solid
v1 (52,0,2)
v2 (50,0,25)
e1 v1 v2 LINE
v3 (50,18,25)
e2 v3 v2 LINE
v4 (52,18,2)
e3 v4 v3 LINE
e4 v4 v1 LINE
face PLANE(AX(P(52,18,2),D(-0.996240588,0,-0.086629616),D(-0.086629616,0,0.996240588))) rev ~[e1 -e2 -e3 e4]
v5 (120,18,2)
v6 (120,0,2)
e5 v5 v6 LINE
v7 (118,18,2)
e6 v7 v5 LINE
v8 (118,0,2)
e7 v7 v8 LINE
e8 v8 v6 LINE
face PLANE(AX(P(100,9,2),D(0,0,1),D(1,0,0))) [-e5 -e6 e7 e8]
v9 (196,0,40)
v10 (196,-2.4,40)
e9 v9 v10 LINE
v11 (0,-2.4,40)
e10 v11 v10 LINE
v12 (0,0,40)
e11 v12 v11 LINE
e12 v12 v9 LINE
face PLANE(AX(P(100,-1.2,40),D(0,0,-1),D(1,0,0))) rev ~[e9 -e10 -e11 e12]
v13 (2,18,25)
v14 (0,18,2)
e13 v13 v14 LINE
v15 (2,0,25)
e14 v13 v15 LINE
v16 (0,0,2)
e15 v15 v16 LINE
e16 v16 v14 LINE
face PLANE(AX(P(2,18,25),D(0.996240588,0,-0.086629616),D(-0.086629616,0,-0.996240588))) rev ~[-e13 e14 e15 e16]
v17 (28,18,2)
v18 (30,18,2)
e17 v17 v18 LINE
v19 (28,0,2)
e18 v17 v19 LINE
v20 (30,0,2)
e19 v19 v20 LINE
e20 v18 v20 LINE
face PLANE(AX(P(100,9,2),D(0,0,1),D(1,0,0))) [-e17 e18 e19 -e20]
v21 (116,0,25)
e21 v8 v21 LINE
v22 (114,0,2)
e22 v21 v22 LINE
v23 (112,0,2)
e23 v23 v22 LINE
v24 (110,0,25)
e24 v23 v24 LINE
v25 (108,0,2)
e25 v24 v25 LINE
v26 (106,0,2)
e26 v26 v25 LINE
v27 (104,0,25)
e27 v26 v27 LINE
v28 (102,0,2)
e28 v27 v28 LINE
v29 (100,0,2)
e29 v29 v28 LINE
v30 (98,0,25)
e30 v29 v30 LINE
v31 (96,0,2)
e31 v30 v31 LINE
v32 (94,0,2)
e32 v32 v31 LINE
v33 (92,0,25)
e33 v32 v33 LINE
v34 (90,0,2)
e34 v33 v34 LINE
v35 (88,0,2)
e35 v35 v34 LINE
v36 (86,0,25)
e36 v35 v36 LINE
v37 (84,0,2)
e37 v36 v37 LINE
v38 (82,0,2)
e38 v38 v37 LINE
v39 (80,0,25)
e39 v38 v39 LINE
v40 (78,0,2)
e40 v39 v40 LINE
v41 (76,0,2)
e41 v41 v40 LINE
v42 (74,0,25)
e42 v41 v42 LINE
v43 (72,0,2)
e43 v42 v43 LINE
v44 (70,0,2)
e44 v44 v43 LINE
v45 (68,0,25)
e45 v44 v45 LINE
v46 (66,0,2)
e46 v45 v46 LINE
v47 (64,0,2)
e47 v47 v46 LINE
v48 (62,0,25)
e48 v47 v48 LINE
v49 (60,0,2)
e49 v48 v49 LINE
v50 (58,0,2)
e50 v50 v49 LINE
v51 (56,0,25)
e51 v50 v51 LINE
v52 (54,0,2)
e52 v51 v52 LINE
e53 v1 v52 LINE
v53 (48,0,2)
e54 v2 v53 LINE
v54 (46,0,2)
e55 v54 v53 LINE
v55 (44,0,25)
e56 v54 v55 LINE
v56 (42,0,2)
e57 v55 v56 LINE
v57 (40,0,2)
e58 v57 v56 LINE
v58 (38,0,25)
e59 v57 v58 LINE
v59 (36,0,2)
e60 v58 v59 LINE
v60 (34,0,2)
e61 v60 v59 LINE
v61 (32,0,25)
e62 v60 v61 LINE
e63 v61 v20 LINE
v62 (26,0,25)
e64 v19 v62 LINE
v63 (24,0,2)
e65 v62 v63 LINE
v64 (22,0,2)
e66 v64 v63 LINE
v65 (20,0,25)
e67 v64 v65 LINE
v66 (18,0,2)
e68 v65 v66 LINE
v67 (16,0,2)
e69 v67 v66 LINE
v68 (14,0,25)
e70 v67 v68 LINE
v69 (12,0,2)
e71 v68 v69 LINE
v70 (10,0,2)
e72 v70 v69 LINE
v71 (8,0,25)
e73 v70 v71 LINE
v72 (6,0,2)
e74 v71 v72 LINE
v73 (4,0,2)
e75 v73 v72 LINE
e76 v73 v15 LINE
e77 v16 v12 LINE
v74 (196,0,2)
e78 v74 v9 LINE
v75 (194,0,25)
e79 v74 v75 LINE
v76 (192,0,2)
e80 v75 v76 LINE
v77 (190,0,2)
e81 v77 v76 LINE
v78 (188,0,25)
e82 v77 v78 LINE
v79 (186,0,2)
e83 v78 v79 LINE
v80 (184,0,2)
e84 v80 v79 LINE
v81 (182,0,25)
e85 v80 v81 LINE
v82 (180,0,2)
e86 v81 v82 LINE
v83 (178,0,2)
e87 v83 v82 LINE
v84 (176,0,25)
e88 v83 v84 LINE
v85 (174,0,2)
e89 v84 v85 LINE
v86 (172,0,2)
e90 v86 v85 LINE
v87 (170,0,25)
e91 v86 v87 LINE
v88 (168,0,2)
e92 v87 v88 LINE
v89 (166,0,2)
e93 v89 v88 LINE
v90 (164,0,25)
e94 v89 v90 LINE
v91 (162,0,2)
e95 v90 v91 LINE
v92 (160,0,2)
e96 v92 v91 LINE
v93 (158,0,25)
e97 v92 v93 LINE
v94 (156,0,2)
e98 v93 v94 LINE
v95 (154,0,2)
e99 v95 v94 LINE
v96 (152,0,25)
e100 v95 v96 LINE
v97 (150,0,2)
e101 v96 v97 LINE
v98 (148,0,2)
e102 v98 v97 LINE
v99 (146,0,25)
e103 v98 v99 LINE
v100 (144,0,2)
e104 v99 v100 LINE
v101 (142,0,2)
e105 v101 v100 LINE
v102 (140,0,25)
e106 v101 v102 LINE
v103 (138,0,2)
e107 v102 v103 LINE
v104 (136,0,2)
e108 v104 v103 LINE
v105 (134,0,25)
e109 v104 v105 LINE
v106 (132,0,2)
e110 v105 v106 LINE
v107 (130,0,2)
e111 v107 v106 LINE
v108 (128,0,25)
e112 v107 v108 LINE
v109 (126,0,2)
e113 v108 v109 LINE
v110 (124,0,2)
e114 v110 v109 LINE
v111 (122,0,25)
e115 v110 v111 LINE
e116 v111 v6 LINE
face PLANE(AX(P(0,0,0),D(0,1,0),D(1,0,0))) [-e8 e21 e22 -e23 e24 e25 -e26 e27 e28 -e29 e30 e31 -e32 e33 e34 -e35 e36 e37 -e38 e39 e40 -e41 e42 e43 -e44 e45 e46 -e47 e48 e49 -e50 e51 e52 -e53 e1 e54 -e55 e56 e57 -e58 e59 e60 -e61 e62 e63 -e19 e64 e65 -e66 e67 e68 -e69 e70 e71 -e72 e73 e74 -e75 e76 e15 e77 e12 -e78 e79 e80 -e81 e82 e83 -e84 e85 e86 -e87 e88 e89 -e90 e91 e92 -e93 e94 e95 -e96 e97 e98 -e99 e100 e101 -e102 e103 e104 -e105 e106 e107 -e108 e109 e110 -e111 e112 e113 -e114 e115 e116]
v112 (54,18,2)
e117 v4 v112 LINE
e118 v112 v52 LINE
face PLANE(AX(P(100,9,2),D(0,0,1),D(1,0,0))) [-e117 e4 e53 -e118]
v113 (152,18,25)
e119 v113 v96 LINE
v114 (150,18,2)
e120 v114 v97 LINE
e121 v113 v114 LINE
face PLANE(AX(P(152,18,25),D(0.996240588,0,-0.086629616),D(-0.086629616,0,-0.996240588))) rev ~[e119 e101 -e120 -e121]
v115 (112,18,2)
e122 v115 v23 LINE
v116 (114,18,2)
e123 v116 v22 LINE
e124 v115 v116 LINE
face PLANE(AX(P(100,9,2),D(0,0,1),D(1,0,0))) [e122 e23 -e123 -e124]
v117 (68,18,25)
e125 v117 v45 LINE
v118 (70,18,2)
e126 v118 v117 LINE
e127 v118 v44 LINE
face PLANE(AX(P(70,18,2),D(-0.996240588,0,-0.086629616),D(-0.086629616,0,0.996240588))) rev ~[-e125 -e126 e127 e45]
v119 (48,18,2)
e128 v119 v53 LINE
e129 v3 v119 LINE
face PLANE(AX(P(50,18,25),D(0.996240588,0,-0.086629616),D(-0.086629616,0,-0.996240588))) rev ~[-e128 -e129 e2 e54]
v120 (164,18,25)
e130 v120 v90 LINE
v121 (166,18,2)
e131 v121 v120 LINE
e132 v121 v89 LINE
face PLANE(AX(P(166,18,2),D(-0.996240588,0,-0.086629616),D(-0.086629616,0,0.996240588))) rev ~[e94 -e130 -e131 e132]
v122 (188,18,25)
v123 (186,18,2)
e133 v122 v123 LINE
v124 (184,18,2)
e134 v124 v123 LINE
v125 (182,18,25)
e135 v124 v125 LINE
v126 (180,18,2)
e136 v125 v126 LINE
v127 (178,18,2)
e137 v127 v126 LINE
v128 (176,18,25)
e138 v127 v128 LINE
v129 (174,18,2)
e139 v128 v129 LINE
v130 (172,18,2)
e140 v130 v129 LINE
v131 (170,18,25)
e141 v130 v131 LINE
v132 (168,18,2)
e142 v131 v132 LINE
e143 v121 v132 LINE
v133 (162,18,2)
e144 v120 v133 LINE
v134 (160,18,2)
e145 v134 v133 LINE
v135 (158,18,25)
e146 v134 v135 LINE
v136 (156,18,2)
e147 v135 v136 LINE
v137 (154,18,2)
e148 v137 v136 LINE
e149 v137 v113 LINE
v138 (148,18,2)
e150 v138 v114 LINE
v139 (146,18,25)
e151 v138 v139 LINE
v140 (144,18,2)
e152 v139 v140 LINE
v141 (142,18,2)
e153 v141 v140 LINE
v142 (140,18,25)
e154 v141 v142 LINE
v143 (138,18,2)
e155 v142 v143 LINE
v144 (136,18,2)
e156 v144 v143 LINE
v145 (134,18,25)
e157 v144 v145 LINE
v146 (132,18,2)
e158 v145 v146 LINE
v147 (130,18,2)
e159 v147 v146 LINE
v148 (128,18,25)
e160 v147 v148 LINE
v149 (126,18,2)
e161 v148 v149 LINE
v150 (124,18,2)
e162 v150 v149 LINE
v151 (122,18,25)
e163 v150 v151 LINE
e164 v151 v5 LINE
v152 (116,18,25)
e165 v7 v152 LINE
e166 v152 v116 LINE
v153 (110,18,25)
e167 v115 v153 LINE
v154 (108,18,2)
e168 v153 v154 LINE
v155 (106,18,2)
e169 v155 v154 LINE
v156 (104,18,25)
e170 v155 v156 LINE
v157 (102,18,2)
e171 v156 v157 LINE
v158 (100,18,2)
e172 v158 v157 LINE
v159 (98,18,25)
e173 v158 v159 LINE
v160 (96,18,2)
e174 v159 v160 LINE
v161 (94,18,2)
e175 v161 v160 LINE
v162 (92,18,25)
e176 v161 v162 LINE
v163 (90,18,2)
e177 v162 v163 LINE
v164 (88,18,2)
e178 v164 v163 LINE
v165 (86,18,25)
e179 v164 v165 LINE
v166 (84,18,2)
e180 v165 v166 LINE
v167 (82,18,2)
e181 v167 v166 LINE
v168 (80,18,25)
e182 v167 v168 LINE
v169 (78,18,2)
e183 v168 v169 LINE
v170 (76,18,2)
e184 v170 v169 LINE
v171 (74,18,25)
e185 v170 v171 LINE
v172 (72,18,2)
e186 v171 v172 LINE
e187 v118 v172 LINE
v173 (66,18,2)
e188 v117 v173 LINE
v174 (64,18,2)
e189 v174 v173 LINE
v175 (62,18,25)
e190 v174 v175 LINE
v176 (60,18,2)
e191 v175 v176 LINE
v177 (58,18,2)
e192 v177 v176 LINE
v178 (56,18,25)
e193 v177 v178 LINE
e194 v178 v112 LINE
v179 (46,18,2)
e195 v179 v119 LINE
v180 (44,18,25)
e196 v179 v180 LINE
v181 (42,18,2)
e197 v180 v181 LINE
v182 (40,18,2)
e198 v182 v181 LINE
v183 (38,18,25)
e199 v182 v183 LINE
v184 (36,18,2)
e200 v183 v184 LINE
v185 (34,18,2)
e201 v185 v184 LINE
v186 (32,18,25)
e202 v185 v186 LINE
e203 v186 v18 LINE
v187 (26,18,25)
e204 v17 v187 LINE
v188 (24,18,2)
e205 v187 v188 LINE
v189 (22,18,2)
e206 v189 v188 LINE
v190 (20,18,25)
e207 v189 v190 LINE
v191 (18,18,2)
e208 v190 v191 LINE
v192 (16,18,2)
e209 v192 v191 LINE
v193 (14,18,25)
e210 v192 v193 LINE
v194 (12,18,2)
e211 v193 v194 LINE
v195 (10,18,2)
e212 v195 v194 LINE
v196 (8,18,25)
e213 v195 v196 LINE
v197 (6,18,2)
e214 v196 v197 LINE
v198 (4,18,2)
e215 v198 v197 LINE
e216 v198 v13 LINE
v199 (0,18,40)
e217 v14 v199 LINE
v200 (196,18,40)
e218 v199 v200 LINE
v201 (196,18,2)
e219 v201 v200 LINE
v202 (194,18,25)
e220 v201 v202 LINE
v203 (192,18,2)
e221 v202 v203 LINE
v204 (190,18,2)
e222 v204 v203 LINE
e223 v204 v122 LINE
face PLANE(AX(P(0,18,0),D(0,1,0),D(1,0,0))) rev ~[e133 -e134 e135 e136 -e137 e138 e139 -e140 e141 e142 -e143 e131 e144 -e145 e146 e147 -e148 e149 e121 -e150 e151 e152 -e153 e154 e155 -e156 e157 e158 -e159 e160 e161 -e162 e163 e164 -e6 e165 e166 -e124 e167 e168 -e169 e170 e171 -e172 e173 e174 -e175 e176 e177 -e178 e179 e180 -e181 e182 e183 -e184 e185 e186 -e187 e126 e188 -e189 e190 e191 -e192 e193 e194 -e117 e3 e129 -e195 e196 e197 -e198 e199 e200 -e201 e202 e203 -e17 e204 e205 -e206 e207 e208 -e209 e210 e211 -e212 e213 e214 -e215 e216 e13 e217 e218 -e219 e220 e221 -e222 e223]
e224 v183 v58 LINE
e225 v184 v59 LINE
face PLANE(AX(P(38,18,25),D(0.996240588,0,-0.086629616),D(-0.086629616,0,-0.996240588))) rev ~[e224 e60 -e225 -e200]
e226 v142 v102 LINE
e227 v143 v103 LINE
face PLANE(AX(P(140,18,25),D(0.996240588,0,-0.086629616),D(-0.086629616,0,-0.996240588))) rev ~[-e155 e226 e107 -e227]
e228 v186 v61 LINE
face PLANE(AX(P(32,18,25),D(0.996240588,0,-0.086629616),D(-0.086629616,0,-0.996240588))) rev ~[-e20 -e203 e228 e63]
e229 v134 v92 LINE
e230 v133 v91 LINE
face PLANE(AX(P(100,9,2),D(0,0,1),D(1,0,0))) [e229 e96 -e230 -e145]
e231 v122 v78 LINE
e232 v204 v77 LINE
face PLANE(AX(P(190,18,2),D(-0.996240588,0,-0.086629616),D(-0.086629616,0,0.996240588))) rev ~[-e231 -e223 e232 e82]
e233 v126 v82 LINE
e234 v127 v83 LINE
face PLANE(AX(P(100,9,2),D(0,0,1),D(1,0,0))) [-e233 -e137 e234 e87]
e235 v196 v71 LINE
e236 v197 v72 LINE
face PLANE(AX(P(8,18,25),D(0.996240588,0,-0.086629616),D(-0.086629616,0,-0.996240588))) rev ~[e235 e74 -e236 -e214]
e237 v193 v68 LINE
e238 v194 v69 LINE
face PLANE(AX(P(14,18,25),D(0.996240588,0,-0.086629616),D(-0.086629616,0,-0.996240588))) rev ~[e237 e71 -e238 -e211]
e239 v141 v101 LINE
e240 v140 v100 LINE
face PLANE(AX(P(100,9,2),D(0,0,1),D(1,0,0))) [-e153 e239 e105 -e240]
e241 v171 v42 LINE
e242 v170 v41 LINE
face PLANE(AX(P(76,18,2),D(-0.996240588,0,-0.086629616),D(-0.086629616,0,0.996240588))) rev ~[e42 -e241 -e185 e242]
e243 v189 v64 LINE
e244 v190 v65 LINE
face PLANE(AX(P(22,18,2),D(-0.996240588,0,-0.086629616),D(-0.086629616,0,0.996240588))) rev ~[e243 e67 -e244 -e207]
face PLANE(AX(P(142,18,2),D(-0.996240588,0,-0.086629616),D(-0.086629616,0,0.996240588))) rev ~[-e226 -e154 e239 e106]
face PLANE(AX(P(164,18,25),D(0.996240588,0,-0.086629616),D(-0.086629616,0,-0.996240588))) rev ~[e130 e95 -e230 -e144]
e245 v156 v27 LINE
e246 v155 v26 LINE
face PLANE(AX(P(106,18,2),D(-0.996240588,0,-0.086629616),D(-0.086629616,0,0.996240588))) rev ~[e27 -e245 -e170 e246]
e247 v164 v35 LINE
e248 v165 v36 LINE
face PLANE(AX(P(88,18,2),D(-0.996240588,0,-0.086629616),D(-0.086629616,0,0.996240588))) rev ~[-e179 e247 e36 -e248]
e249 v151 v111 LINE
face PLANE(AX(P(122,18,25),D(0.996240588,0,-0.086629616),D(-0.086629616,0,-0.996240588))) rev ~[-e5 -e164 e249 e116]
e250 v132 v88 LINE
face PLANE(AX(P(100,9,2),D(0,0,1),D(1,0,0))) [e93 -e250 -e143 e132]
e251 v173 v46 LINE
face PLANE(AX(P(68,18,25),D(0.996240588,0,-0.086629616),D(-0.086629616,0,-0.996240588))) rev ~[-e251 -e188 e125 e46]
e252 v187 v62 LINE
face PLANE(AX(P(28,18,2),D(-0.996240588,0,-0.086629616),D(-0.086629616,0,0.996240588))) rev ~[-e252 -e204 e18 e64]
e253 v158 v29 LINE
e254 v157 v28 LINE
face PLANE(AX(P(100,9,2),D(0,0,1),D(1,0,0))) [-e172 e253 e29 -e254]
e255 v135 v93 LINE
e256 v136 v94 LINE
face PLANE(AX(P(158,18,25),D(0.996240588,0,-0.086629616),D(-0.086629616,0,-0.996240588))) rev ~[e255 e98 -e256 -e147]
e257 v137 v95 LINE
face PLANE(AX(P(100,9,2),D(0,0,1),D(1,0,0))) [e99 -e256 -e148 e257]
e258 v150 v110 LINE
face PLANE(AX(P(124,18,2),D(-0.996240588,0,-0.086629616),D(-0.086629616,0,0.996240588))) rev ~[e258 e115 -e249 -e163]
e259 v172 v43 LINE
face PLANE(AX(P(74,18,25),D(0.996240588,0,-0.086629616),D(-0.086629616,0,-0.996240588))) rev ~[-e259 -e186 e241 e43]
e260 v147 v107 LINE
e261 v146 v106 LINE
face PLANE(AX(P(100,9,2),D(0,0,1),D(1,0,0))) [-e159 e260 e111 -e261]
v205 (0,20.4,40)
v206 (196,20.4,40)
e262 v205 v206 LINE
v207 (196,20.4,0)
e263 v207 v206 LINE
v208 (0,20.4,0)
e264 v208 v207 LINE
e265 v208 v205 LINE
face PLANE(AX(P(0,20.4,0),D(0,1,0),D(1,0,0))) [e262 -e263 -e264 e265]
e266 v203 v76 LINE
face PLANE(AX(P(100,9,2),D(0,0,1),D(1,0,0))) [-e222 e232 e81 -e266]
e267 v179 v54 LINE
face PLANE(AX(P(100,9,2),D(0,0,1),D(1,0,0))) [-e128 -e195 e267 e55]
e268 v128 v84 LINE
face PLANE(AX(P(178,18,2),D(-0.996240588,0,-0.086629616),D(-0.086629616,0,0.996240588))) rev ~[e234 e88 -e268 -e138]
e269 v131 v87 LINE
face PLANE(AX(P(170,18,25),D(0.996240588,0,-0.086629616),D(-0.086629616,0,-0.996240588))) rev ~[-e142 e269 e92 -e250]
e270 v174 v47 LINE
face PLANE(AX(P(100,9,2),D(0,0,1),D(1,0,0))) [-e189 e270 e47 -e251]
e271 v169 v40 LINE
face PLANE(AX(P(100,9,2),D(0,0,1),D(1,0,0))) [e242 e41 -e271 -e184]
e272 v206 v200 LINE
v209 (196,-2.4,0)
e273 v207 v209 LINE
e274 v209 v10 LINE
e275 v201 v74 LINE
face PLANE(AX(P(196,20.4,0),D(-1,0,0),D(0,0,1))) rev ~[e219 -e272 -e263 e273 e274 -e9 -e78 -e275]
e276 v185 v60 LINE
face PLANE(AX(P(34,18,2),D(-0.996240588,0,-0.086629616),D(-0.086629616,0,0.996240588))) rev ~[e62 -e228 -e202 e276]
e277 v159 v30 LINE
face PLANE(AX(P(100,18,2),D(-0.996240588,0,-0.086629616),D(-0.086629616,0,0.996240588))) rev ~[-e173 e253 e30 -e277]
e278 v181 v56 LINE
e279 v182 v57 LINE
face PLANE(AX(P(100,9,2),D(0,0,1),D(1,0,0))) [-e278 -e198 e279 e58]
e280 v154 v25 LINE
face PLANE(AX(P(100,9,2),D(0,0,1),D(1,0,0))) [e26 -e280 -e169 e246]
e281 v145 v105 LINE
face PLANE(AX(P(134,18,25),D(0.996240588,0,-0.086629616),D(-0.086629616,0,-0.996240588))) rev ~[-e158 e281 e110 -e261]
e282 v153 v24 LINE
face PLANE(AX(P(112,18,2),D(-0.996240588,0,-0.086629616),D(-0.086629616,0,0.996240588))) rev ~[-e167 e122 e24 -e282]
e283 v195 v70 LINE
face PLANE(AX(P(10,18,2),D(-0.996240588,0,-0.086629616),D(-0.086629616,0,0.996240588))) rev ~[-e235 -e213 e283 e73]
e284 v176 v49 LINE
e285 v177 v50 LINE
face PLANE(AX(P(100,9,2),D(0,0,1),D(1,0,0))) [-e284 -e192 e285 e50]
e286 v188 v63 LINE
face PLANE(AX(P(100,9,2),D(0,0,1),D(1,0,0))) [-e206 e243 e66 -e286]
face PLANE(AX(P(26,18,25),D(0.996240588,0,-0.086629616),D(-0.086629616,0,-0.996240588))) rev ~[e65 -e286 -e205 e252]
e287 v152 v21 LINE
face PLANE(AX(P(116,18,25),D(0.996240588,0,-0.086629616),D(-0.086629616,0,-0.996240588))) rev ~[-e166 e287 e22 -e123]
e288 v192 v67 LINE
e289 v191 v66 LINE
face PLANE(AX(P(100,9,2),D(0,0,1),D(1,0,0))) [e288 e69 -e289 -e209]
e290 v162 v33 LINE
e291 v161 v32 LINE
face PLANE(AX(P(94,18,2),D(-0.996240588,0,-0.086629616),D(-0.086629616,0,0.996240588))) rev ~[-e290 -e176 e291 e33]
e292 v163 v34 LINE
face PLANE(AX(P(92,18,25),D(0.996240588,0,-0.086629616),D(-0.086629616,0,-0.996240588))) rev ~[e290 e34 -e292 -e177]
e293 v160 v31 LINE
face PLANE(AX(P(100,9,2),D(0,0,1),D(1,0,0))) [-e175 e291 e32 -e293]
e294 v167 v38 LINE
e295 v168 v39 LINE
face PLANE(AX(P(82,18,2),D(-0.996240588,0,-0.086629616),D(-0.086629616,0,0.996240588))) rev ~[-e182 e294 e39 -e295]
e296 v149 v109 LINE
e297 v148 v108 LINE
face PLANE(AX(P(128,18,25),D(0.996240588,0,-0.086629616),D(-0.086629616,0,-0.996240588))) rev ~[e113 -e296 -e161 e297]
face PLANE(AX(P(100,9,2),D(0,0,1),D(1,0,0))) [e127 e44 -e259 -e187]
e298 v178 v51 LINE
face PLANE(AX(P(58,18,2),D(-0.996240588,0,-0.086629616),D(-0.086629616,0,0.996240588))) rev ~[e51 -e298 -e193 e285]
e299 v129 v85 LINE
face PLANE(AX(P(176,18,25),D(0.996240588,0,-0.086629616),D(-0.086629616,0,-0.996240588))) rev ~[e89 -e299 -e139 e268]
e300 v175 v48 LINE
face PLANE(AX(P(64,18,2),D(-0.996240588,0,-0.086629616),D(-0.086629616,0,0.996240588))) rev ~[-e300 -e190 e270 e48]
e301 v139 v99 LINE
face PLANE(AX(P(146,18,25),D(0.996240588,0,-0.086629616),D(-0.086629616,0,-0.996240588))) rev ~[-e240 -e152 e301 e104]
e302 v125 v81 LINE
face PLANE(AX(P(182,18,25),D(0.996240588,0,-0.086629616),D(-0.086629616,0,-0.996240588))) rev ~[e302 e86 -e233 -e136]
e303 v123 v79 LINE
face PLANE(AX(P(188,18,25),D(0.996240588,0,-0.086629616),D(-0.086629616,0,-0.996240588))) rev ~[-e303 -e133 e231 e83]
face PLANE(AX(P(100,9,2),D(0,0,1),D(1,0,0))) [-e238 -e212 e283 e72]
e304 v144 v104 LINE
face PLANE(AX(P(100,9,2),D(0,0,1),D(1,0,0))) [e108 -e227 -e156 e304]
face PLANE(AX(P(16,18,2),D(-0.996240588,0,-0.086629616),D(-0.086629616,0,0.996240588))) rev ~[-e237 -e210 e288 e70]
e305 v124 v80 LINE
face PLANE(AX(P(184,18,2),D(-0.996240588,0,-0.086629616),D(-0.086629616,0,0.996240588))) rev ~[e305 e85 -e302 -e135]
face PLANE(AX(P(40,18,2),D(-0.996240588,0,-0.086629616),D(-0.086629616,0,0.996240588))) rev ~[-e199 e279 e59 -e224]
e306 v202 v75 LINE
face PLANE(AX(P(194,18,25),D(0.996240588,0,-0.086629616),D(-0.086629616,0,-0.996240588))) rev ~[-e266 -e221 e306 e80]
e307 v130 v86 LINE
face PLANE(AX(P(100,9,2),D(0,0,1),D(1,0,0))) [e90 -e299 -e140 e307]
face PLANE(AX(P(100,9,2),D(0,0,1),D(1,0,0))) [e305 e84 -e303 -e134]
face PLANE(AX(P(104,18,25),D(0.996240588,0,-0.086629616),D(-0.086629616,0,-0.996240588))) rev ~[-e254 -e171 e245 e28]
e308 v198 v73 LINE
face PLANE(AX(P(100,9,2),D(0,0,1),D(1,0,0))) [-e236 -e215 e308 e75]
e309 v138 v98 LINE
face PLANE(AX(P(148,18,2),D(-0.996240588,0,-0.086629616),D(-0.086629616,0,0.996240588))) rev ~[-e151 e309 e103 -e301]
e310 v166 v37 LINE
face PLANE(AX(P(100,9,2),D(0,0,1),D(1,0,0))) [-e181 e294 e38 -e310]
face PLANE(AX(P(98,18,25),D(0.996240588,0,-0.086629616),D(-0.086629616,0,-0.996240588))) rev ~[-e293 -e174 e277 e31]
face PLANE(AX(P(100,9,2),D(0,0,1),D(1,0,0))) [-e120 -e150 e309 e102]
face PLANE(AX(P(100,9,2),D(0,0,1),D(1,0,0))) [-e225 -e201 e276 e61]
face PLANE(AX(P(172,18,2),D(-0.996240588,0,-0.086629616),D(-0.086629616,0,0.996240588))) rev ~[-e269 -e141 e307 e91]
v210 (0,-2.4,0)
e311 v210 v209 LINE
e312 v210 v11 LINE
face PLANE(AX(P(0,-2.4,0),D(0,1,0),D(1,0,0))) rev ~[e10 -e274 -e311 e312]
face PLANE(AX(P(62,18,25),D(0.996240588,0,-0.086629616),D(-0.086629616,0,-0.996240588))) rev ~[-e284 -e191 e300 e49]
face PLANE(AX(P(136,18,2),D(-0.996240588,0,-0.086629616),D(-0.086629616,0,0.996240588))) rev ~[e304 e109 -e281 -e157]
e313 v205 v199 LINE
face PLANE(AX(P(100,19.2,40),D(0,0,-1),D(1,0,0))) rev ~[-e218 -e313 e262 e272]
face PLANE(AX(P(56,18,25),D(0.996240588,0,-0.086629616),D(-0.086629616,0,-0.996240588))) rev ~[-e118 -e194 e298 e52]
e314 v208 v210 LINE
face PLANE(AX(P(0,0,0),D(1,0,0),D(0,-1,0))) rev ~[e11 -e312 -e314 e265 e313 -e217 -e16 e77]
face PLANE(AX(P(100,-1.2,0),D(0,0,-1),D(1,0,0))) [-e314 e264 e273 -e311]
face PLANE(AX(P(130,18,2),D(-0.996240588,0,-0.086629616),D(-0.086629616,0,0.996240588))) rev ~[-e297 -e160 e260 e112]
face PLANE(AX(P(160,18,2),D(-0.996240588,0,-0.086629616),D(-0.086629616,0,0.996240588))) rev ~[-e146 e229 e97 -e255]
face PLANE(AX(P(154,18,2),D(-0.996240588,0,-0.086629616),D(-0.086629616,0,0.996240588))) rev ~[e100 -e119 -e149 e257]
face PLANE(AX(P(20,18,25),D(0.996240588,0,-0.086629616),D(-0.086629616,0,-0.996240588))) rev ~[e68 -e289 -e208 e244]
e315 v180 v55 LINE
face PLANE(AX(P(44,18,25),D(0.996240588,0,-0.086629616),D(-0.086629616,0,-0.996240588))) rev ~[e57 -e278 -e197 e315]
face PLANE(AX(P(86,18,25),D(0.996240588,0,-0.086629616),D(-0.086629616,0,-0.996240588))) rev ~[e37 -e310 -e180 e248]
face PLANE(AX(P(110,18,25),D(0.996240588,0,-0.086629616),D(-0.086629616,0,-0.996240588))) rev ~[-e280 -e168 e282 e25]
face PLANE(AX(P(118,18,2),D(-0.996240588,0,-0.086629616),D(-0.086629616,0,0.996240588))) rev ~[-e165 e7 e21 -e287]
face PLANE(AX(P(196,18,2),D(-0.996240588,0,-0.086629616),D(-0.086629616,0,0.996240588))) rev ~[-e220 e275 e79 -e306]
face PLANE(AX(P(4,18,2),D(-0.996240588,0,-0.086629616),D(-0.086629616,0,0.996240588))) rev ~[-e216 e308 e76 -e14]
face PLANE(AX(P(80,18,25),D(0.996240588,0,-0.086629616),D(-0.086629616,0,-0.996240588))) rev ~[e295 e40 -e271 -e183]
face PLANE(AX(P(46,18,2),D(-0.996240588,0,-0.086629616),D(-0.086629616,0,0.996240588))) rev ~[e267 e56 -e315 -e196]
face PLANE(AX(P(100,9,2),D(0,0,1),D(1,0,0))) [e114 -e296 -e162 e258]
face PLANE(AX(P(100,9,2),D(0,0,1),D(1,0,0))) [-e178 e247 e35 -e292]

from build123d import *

# Parameters (mm, degrees)
F0_W     = 200
F0_H     = 18
F1_DEPTH = 2
F2_W     = 200
F2_H     = 2.4
F3_DEPTH = 40
F5_DEPTH = 18
F6_W     = 4
F6_H     = 40
F7_DEPTH = 22.801


with BuildPart() as f1:
    # F0 (on Top) → F1 (new body)
    with BuildSketch(Plane.XY):
        with Locations((100, 9)):
            Rectangle(F0_W, F0_H)
    extrude(amount=F1_DEPTH)

    # F2 (on face) → F3 (join)
    with BuildSketch(Plane(origin=(0, 0, 0), x_dir=(1, 0, 0), z_dir=(0, 0, -1))):
        with Locations((100, 1.2)):
            Rectangle(F2_W, F2_H)
        with Locations((100, -19.2)):
            Rectangle(F2_W, F2_H)
    extrude(amount=-F3_DEPTH)

    # F4 (on face) → F5 (join, through all)
    with BuildSketch(Plane.XZ.offset(-18)):
        Polygon((2, 25), (0, 2), (4, 2), align=None)
        Polygon((10, 2), (8, 25), (6, 2), align=None)
        Polygon((16, 2), (14, 25), (12, 2), align=None)
        Polygon((22, 2), (20, 25), (18, 2), align=None)
        Polygon((28, 2), (26, 25), (24, 2), align=None)
        Polygon((34, 2), (32, 25), (30, 2), align=None)
        Polygon((40, 2), (38, 25), (36, 2), align=None)
        Polygon((46, 2), (44, 25), (42, 2), align=None)
        Polygon((52, 2), (50, 25), (48, 2), align=None)
        Polygon((58, 2), (56, 25), (54, 2), align=None)
        Polygon((64, 2), (62, 25), (60, 2), align=None)
        Polygon((70, 2), (68, 25), (66, 2), align=None)
        Polygon((76, 2), (74, 25), (72, 2), align=None)
        Polygon((82, 2), (80, 25), (78, 2), align=None)
        Polygon((88, 2), (86, 25), (84, 2), align=None)
        Polygon((94, 2), (92, 25), (90, 2), align=None)
        Polygon((100, 2), (98, 25), (96, 2), align=None)
        Polygon((106, 2), (104, 25), (102, 2), align=None)
        Polygon((112, 2), (110, 25), (108, 2), align=None)
        Polygon((118, 2), (116, 25), (114, 2), align=None)
        Polygon((124, 2), (122, 25), (120, 2), align=None)
        Polygon((130, 2), (128, 25), (126, 2), align=None)
        Polygon((136, 2), (134, 25), (132, 2), align=None)
        Polygon((142, 2), (140, 25), (138, 2), align=None)
        Polygon((148, 2), (146, 25), (144, 2), align=None)
        Polygon((154, 2), (152, 25), (150, 2), align=None)
        Polygon((160, 2), (158, 25), (156, 2), align=None)
        Polygon((166, 2), (164, 25), (162, 2), align=None)
        Polygon((172, 2), (170, 25), (168, 2), align=None)
        Polygon((178, 2), (176, 25), (174, 2), align=None)
        Polygon((184, 2), (182, 25), (180, 2), align=None)
        Polygon((190, 2), (188, 25), (186, 2), align=None)
        Polygon((196, 2), (194, 25), (192, 2), align=None)
    extrude(amount=F5_DEPTH)

    # F6 (on face) → F7 (cut, through all)
    with BuildSketch(Plane(origin=(0, 20.4, 0), x_dir=(-1, 0, 0), z_dir=(0, 1, 0))):
        with Locations((-198, 20)):
            Rectangle(F6_W, F6_H)
    extrude(amount=-F7_DEPTH, mode=Mode.SUBTRACT)


solid = f1.part
